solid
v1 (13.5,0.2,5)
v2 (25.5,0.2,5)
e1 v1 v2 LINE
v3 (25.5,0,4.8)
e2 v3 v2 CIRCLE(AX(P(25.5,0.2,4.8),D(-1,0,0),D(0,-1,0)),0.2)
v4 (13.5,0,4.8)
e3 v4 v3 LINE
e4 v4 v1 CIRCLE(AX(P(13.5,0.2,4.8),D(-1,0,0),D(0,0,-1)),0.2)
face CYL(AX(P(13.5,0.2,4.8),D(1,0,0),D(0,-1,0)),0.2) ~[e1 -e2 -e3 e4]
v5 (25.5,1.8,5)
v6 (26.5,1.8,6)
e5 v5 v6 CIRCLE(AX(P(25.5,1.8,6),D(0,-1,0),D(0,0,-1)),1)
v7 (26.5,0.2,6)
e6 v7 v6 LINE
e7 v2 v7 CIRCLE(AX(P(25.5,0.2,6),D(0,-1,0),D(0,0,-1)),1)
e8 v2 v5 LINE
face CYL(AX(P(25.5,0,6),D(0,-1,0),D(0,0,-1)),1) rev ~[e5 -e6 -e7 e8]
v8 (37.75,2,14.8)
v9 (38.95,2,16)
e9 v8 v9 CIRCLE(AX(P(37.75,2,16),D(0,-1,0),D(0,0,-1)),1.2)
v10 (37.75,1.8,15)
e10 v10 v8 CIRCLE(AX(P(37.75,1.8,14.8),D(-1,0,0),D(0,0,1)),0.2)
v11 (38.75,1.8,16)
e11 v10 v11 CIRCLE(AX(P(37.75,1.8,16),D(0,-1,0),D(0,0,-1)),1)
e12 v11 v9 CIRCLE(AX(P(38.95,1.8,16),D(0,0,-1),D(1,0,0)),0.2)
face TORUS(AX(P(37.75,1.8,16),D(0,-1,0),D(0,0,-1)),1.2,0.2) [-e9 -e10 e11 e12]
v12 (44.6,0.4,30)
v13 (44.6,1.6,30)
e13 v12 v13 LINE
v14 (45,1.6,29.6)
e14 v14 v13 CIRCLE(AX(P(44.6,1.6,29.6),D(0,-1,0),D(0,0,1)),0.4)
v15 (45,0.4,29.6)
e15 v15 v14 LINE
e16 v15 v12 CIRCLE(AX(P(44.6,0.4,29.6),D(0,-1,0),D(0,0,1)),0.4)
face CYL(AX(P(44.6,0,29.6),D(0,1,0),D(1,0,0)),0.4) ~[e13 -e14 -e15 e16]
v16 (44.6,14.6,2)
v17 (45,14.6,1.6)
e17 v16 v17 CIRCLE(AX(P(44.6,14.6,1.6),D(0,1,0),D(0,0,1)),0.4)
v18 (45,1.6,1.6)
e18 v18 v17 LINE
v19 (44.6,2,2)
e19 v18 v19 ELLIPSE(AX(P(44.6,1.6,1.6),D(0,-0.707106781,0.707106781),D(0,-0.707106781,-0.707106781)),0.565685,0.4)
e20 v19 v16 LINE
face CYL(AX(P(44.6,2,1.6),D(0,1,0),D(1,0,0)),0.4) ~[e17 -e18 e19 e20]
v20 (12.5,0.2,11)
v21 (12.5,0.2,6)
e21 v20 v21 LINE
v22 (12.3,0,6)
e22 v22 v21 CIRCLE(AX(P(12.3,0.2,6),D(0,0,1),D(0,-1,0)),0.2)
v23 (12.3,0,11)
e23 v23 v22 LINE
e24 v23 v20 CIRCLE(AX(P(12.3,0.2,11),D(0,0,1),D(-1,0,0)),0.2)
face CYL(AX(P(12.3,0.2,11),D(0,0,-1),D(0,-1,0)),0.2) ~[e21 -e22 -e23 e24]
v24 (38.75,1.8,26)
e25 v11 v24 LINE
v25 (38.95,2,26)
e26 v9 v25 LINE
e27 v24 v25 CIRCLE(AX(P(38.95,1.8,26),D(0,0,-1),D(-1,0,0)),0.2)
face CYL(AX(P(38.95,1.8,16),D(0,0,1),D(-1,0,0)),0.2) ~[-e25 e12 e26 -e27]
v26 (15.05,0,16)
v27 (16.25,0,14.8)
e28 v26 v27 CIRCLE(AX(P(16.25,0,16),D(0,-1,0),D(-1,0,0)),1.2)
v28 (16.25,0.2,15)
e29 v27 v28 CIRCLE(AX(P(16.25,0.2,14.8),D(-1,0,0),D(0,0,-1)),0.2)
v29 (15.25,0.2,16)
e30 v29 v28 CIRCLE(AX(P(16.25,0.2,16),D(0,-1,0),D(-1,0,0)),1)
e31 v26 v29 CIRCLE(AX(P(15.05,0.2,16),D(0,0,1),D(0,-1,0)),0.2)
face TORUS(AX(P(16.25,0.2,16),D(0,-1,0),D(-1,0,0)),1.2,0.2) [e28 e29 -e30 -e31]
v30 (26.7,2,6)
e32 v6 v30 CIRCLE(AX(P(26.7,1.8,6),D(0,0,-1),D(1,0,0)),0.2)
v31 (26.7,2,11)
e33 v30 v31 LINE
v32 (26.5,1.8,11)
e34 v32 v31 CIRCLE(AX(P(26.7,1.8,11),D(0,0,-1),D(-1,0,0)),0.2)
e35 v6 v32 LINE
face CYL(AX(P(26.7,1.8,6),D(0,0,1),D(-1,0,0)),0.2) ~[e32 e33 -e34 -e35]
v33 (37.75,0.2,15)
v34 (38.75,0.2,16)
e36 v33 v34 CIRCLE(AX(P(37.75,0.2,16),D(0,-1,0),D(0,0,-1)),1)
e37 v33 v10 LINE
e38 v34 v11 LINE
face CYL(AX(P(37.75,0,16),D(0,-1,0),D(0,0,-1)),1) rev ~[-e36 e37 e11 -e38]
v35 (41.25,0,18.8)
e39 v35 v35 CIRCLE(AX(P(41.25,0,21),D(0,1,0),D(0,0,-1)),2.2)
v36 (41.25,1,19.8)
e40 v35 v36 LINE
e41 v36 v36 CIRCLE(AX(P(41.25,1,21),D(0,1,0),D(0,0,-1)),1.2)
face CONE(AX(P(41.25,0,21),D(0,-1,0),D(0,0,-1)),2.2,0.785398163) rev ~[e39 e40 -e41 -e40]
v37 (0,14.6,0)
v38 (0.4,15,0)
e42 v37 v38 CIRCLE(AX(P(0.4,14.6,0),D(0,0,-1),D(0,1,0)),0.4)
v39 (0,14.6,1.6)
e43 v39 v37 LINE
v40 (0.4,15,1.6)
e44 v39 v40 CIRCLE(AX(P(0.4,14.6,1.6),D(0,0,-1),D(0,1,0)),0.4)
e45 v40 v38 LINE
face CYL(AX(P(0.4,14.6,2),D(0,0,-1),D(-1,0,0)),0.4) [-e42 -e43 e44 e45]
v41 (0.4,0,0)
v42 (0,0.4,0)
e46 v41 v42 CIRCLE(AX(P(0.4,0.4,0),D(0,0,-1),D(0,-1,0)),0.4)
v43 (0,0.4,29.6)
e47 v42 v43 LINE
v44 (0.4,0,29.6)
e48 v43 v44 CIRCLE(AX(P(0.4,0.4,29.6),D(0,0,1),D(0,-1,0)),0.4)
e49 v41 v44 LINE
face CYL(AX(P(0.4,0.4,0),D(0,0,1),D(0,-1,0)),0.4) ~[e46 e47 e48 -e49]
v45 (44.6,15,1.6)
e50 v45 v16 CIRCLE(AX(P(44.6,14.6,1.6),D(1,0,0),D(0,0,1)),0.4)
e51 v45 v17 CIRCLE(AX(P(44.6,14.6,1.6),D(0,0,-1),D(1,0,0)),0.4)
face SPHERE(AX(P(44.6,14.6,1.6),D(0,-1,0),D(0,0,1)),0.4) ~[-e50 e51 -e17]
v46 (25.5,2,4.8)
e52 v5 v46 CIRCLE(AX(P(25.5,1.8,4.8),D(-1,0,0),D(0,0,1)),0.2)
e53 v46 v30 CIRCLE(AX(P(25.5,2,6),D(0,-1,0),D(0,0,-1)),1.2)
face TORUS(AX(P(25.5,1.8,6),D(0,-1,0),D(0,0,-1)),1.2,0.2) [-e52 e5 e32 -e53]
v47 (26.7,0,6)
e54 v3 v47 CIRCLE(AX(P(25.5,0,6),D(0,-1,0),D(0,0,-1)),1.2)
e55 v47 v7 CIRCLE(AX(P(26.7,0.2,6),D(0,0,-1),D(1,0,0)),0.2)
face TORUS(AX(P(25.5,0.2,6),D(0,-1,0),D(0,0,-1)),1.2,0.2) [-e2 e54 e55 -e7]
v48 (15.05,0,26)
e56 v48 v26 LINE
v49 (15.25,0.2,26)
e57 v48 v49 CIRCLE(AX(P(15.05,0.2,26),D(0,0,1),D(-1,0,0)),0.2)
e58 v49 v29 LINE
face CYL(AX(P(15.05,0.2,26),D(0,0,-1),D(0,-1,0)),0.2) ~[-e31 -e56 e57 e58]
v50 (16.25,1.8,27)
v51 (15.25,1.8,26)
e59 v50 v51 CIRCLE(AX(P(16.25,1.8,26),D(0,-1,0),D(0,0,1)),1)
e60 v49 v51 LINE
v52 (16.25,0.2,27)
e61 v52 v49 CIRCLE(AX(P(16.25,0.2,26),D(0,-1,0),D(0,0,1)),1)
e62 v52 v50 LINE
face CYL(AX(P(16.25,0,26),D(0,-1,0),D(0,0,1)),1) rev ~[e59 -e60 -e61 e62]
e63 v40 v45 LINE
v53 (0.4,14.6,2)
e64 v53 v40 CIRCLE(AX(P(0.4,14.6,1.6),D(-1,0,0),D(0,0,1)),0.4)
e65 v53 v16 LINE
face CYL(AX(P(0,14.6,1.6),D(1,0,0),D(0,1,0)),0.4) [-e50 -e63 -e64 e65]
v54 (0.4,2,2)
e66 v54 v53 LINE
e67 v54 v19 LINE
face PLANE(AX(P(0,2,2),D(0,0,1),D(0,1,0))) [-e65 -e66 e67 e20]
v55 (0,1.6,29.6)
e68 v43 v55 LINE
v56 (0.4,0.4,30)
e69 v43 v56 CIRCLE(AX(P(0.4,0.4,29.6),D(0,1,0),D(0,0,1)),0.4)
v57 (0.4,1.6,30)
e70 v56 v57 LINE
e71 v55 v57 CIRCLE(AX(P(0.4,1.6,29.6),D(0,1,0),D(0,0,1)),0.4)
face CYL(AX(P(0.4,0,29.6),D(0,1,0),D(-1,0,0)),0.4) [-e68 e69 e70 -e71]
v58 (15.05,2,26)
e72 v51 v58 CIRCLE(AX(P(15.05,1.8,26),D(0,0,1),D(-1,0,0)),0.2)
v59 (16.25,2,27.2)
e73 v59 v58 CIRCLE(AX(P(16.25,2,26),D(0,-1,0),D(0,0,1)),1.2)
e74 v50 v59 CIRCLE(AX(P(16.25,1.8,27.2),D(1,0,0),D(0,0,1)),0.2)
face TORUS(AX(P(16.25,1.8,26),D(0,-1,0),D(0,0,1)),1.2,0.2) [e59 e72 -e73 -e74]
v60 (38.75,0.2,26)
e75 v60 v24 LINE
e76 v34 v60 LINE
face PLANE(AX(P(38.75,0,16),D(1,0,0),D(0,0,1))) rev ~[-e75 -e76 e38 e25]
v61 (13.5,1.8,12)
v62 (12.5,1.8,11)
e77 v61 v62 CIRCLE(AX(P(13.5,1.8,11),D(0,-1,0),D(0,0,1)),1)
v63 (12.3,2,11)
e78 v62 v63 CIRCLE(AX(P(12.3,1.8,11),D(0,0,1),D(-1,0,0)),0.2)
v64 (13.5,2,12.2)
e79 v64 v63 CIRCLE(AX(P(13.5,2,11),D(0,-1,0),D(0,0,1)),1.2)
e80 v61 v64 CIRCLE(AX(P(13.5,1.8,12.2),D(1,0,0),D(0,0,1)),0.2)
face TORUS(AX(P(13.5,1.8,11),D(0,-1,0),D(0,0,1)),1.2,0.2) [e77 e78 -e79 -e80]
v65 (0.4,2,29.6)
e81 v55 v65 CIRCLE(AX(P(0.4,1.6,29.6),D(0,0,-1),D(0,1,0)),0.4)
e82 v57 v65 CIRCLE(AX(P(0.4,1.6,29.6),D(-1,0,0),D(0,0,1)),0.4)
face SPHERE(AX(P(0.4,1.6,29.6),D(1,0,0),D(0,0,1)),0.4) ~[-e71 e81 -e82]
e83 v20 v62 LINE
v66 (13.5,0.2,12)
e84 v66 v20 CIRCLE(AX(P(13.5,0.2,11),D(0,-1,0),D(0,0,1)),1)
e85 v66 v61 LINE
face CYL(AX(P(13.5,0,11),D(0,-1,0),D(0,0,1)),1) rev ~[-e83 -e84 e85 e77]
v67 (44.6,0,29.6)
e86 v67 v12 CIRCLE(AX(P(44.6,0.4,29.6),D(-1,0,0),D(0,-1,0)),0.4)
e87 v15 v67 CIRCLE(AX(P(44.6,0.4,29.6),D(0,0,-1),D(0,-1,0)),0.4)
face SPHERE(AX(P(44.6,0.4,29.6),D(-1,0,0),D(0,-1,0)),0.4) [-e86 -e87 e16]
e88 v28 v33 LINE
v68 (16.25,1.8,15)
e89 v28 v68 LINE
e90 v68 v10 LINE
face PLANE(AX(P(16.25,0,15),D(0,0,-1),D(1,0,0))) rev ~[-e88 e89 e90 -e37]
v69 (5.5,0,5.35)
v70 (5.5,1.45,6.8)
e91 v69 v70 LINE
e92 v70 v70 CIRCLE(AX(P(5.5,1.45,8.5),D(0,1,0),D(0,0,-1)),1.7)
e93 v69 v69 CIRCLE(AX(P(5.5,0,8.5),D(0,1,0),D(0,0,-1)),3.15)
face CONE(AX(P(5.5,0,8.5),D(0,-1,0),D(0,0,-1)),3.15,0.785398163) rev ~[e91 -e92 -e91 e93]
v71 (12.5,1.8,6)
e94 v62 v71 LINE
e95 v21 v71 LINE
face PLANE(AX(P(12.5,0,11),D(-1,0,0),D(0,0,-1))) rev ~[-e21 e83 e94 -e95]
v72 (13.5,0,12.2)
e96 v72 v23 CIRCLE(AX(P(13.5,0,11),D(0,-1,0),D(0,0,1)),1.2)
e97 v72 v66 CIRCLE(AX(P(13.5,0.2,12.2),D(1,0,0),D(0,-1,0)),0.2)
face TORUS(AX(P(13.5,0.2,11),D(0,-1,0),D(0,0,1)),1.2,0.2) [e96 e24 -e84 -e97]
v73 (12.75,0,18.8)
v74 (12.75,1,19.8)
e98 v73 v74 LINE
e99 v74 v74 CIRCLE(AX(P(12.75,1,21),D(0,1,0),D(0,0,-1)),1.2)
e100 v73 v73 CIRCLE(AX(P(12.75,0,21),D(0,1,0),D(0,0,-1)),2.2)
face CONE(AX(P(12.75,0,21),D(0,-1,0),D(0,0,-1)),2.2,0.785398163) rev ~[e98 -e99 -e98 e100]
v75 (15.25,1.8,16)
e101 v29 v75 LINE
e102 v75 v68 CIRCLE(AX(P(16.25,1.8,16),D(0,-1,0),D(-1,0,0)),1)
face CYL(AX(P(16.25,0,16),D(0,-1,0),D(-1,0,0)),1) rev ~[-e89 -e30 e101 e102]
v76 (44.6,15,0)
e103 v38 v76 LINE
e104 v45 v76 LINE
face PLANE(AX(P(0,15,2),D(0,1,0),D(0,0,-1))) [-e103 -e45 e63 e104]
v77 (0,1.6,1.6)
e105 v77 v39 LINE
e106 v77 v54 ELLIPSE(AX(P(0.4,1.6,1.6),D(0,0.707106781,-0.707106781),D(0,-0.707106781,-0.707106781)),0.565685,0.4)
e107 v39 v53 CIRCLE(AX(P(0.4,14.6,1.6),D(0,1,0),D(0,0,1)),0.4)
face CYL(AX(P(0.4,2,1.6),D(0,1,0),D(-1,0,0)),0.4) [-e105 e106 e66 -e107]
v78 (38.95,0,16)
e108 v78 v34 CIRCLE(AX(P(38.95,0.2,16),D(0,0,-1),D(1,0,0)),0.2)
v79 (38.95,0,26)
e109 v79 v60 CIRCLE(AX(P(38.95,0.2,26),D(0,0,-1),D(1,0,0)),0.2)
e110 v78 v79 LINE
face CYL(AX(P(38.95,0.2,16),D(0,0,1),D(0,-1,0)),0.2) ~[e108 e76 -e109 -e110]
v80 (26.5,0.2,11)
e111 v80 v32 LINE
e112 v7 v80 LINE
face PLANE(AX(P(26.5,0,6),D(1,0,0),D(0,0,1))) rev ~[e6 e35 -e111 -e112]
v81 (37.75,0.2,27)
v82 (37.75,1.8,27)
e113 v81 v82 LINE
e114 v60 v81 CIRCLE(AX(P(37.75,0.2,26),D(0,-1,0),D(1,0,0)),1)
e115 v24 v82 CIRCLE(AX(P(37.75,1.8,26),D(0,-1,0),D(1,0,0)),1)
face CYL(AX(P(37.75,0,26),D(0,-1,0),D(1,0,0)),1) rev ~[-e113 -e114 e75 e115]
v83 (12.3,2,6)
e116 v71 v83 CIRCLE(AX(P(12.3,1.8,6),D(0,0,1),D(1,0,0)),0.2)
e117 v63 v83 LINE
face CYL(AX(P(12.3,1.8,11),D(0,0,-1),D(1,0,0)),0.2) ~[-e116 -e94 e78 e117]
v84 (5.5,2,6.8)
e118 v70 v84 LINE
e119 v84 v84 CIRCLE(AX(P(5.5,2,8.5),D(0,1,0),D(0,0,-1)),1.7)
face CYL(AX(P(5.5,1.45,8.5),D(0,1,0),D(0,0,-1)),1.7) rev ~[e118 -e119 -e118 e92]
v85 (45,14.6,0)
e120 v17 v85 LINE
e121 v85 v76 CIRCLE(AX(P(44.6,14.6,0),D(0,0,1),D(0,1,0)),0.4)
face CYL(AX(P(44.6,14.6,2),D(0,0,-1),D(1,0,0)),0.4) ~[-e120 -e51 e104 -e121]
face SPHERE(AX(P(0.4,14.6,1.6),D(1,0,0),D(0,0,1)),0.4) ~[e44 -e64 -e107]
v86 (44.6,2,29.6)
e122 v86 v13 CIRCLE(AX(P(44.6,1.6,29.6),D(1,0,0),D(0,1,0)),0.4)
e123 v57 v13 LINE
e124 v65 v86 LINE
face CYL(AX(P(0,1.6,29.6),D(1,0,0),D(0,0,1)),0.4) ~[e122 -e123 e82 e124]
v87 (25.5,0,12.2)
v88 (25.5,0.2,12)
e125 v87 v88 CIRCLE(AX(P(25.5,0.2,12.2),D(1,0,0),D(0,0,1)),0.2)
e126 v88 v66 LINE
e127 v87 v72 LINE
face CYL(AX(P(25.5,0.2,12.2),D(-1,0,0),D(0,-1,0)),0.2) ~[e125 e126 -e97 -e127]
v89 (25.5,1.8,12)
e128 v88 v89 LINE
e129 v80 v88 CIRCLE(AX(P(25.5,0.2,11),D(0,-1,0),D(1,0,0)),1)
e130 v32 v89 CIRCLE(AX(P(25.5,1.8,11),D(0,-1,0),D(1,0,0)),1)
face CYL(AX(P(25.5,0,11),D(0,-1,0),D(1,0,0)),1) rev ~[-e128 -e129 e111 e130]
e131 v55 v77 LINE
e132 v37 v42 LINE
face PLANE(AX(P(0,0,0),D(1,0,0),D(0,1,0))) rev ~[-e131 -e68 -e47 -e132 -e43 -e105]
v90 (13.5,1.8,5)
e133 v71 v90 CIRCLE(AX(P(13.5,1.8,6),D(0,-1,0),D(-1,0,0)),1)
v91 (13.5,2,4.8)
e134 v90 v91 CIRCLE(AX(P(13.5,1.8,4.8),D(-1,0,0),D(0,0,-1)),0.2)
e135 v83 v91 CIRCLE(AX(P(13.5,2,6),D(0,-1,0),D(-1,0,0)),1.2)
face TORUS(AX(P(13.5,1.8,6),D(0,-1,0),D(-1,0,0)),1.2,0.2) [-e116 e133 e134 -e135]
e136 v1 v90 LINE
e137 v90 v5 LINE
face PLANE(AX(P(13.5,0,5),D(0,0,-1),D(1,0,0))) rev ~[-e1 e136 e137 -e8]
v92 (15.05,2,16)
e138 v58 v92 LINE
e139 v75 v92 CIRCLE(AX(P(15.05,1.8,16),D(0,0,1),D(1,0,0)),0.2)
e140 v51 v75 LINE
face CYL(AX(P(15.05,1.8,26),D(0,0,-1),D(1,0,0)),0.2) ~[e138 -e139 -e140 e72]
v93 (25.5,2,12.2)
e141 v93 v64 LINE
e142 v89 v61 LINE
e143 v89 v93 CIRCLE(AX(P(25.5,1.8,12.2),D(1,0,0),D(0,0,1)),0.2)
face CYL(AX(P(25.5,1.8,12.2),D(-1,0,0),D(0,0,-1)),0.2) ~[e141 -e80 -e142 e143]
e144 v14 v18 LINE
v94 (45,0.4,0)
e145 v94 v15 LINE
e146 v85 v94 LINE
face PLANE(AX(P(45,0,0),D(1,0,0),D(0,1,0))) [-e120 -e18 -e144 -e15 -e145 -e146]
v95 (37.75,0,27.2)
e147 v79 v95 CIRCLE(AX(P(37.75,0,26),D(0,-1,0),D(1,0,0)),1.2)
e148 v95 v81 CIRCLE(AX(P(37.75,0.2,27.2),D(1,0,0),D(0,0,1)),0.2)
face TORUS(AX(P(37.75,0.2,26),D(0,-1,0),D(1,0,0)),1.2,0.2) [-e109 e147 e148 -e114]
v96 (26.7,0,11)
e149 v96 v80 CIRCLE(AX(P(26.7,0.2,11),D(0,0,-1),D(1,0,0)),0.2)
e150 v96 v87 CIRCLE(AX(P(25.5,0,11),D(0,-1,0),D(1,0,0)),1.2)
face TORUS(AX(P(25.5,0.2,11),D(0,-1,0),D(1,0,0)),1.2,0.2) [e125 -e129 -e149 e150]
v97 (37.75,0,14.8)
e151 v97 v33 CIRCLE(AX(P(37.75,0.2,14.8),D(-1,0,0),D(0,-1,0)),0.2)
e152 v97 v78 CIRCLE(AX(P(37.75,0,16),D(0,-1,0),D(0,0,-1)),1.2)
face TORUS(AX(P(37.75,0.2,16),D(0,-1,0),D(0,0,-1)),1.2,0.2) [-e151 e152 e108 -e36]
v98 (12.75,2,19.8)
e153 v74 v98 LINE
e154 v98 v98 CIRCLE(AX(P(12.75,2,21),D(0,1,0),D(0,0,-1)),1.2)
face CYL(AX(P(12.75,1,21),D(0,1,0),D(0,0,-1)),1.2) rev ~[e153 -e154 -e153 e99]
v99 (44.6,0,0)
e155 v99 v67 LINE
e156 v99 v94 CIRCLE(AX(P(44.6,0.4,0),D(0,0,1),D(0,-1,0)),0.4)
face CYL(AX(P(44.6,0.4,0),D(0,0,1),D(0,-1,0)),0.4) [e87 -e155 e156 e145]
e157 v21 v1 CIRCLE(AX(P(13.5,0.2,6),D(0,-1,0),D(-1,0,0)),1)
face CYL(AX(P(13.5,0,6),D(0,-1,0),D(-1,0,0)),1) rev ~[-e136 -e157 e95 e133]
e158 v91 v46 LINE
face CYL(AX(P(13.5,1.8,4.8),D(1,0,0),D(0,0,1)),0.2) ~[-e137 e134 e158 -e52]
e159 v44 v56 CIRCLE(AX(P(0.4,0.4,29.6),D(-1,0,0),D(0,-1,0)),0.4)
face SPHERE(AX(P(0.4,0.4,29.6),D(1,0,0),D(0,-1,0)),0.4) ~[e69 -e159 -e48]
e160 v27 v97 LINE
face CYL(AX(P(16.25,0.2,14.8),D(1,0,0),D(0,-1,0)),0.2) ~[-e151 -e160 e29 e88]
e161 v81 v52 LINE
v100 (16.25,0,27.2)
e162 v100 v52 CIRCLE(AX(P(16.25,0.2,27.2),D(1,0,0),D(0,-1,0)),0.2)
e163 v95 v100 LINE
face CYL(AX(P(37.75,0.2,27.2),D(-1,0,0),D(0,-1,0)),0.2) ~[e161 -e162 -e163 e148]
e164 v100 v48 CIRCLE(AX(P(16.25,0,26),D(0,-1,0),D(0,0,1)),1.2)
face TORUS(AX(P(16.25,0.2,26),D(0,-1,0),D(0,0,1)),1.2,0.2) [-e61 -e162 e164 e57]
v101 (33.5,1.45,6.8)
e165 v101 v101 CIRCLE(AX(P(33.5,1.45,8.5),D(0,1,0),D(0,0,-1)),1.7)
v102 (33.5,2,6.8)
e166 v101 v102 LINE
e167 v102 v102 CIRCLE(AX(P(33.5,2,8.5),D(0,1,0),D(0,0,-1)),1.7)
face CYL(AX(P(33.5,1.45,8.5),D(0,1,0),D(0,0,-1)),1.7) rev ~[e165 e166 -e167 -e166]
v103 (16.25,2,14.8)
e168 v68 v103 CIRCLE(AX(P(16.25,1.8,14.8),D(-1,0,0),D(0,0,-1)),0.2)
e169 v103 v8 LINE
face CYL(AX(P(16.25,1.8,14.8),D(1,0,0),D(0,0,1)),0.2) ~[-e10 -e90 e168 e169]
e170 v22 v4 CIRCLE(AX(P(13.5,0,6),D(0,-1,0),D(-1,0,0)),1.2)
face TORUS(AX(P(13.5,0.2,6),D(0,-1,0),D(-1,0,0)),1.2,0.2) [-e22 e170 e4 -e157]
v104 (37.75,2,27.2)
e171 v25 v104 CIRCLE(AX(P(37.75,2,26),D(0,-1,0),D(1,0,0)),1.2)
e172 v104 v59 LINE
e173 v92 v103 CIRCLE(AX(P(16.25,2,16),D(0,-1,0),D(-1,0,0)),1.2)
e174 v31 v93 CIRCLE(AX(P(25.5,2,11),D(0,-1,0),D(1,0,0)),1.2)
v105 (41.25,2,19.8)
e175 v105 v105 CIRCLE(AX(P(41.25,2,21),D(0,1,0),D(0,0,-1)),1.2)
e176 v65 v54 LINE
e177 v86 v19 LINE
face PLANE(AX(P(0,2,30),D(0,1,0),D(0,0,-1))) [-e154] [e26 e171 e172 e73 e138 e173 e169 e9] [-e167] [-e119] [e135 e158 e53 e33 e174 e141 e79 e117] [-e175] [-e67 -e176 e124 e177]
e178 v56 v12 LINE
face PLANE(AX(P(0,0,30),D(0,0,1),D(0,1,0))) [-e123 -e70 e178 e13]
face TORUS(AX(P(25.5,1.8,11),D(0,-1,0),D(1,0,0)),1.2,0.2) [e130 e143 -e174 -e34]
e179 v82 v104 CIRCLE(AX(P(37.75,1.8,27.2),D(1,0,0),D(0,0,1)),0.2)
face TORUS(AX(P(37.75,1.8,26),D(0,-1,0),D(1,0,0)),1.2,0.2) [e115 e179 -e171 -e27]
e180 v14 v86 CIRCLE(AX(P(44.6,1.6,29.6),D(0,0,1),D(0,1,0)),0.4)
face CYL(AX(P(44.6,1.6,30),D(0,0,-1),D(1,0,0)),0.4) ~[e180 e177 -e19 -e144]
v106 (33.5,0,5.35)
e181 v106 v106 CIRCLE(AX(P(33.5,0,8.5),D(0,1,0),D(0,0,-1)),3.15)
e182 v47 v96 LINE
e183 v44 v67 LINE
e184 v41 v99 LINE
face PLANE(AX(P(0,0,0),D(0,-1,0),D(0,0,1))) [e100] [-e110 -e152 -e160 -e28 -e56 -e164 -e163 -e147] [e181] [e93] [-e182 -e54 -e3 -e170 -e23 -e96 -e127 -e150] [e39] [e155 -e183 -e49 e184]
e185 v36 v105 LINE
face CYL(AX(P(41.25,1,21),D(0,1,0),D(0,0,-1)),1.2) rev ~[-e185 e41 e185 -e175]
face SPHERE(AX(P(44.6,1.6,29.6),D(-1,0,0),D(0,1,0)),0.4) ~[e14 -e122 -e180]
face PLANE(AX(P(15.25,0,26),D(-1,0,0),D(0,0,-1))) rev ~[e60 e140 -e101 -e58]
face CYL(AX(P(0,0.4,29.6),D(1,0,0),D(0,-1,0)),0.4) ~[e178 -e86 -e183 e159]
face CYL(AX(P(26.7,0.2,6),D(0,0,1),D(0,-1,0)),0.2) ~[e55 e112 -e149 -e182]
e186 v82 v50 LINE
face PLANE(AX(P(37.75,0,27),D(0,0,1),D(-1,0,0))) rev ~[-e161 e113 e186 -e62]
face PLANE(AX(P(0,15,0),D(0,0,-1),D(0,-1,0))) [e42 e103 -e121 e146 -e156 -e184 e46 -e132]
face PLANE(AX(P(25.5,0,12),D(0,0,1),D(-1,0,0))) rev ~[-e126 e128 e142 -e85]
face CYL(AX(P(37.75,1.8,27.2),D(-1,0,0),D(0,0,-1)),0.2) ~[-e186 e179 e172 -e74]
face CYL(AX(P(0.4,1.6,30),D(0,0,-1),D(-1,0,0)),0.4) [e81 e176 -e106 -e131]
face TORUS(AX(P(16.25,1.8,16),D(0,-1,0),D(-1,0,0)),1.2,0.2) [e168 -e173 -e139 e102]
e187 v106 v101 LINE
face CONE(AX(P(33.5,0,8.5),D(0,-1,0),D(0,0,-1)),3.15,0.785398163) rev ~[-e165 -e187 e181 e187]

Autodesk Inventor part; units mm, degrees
ref_plane "YZ Plane" through (0, 0, 0) normal (1, 0, 0) x (0, 1, 0)
ref_plane "XZ Plane" through (0, 0, 0) normal (0, 1, 0) x (-1, 0, 0)
ref_plane "XY Plane" through (0, 0, 0) normal (0, 0, 1) x (1, 0, 0)
sketch "Náčrt1" plane through (0, 0, 0) normal (1, 0, 0) x (0, 1, 0)
  line L0 (0, 0) -> (0, 30)
  line L1 (0, 0) -> (30, 0) construction
  line L2 (0, 30) -> (2, 30)
  line L3 (2, 30) -> (2, 2)
  line L4 (2, 2) -> (15, 2)
  line L5 (15, 2) -> (15, 0)
  line L6 (15, 0) -> (0, 0)
  dimension "d0" = 30
  dimension "d1" = 90
  dimension "d2" = 2
  dimension "d3" = 28
  dimension "d4" = 13
extrude "Vysunutí1" add sketch "Náčrt1" along normal blind 45
hole "Díra1" at (5.5, 0, 8.5) direction (0, 1, 0) diameter 3.4 end through all countersink diameter 6.3 countersink angle 90 clearance for "Strojní šroub se zápustnou hlavou" size "M3" standard "Ansi M metrický profil"
hole "Díra2" at (33.5, 0, 8.5) direction (0, 1, 0) diameter 3.4 end through all countersink diameter 6.3 countersink angle 90 clearance for "Strojní šroub se zápustnou hlavou" size "M3" standard "Ansi M metrický profil"
sketch "Náčrt3" plane through (0, 0, 0) normal (0, -1, 0) x (1, 0, 0)
  line L0 (13.5, 5) -> (25.5, 5)
  line L1 (26.5, 6) -> (26.5, 11)
  line L2 (25.5, 12) -> (13.5, 12)
  line L3 (12.5, 11) -> (12.5, 6)
  line L4 (12.5, 5) -> (26.5, 12) construction
  line L5 (26.5, 5) -> (12.5, 12) construction
  arc A0 (13.5, 12) -> (12.5, 11) centre (13.5, 11) ccw
  arc A1 (26.5, 11) -> (25.5, 12) centre (25.5, 11) ccw
  arc A2 (25.5, 5) -> (26.5, 6) centre (25.5, 6) ccw
  arc A3 (12.5, 6) -> (13.5, 5) centre (13.5, 6) ccw
  point P0 (19.5, 8.5)
  dimension "d29" = 14
  dimension "d30" = 7
  dimension "d31" = 1
extrude "Vysunutí2" cut sketch "Náčrt3" against normal blind 2
hole "Díra3" at (12.75, 0, 21) direction (0, 1, 0) diameter 2.4 end through all countersink diameter 4.4 countersink angle 90 clearance for "Strojní šroub se zápustnou hlavou" size "M2" standard "Ansi M metrický profil"
hole "Díra4" at (41.25, 0, 21) direction (0, 1, 0) diameter 2.4 end through all countersink diameter 4.4 countersink angle 90 clearance for "Strojní šroub se zápustnou hlavou" size "M2" standard "Ansi M metrický profil"
sketch "Náčrt2" plane through (0, 0, 0) normal (0, -1, 0) x (1, 0, 0)
  line L0 (45, 30) -> (45, 0) projected
  line L1 (-5, 2) -> (45, 2)
  line L2 (16.25, 15) -> (37.75, 15)
  line L3 (38.75, 16) -> (38.75, 26)
  line L4 (37.75, 27) -> (16.25, 27)
  line L5 (15.25, 26) -> (15.25, 16)
  line L6 (15.25, 15) -> (38.75, 27) construction
  line L7 (38.75, 15) -> (15.25, 27) construction
  arc A0 (16.25, 27) -> (15.25, 26) centre (16.25, 26) ccw
  arc A1 (38.75, 26) -> (37.75, 27) centre (37.75, 26) ccw
  arc A2 (37.75, 15) -> (38.75, 16) centre (37.75, 16) ccw
  arc A3 (15.25, 16) -> (16.25, 15) centre (16.25, 16) ccw
  point P0 (27, 21)
  dimension "d54" = 23.5
  dimension "d55" = 12
  dimension "d58" = 1
extrude "Vysunutí3" cut sketch "Náčrt2" against normal blind 2
fillet "Zaoblení1" radius 0.4 13 edges at (22.5, 0, 30) (22.5, 2, 30) (45, 0, 15) (45, 2, 16) (45, 1, 30) (45, 8.5, 2) (22.5, 15, 2) (45, 15, 1) (0, 0, 15) (0, 1, 30) (0, 2, 16) (0, 8.5, 2) (0, 15, 1)
fillet "Zaoblení2" radius 0.2 32 edges at (38.4571, 0, 26.7071) (38.75, 0, 21) (38.4571, 0, 15.2929) (27, 0, 15) (15.5429, 0, 15.2929) (15.25, 0, 21) (15.5429, 0, 26.7071) (27, 0, 27) (26.2071, 0, 11.7071) (26.5, 0, 8.5) (26.2071, 0, 5.2929) (19.5, 0, 5) (12.7929, 0, 5.2929) (12.5, 0, 8.5) (12.7929, 0, 11.7071) (19.5, 0, 12) (15.5429, 2, 26.7071) (15.25, 2, 21) (15.5429, 2, 15.2929) (27, 2, 15) (38.4571, 2, 15.2929) (38.75, 2, 21) (38.4571, 2, 26.7071) (27, 2, 27) (12.7929, 2, 11.7071) (12.5, 2, 8.5) (12.7929, 2, 5.2929) (19.5, 2, 5) (26.2071, 2, 5.2929) (26.5, 2, 8.5) (26.2071, 2, 11.7071) (19.5, 2, 12)
properties part number "Držák" material "Hliník 6061-AHC"
